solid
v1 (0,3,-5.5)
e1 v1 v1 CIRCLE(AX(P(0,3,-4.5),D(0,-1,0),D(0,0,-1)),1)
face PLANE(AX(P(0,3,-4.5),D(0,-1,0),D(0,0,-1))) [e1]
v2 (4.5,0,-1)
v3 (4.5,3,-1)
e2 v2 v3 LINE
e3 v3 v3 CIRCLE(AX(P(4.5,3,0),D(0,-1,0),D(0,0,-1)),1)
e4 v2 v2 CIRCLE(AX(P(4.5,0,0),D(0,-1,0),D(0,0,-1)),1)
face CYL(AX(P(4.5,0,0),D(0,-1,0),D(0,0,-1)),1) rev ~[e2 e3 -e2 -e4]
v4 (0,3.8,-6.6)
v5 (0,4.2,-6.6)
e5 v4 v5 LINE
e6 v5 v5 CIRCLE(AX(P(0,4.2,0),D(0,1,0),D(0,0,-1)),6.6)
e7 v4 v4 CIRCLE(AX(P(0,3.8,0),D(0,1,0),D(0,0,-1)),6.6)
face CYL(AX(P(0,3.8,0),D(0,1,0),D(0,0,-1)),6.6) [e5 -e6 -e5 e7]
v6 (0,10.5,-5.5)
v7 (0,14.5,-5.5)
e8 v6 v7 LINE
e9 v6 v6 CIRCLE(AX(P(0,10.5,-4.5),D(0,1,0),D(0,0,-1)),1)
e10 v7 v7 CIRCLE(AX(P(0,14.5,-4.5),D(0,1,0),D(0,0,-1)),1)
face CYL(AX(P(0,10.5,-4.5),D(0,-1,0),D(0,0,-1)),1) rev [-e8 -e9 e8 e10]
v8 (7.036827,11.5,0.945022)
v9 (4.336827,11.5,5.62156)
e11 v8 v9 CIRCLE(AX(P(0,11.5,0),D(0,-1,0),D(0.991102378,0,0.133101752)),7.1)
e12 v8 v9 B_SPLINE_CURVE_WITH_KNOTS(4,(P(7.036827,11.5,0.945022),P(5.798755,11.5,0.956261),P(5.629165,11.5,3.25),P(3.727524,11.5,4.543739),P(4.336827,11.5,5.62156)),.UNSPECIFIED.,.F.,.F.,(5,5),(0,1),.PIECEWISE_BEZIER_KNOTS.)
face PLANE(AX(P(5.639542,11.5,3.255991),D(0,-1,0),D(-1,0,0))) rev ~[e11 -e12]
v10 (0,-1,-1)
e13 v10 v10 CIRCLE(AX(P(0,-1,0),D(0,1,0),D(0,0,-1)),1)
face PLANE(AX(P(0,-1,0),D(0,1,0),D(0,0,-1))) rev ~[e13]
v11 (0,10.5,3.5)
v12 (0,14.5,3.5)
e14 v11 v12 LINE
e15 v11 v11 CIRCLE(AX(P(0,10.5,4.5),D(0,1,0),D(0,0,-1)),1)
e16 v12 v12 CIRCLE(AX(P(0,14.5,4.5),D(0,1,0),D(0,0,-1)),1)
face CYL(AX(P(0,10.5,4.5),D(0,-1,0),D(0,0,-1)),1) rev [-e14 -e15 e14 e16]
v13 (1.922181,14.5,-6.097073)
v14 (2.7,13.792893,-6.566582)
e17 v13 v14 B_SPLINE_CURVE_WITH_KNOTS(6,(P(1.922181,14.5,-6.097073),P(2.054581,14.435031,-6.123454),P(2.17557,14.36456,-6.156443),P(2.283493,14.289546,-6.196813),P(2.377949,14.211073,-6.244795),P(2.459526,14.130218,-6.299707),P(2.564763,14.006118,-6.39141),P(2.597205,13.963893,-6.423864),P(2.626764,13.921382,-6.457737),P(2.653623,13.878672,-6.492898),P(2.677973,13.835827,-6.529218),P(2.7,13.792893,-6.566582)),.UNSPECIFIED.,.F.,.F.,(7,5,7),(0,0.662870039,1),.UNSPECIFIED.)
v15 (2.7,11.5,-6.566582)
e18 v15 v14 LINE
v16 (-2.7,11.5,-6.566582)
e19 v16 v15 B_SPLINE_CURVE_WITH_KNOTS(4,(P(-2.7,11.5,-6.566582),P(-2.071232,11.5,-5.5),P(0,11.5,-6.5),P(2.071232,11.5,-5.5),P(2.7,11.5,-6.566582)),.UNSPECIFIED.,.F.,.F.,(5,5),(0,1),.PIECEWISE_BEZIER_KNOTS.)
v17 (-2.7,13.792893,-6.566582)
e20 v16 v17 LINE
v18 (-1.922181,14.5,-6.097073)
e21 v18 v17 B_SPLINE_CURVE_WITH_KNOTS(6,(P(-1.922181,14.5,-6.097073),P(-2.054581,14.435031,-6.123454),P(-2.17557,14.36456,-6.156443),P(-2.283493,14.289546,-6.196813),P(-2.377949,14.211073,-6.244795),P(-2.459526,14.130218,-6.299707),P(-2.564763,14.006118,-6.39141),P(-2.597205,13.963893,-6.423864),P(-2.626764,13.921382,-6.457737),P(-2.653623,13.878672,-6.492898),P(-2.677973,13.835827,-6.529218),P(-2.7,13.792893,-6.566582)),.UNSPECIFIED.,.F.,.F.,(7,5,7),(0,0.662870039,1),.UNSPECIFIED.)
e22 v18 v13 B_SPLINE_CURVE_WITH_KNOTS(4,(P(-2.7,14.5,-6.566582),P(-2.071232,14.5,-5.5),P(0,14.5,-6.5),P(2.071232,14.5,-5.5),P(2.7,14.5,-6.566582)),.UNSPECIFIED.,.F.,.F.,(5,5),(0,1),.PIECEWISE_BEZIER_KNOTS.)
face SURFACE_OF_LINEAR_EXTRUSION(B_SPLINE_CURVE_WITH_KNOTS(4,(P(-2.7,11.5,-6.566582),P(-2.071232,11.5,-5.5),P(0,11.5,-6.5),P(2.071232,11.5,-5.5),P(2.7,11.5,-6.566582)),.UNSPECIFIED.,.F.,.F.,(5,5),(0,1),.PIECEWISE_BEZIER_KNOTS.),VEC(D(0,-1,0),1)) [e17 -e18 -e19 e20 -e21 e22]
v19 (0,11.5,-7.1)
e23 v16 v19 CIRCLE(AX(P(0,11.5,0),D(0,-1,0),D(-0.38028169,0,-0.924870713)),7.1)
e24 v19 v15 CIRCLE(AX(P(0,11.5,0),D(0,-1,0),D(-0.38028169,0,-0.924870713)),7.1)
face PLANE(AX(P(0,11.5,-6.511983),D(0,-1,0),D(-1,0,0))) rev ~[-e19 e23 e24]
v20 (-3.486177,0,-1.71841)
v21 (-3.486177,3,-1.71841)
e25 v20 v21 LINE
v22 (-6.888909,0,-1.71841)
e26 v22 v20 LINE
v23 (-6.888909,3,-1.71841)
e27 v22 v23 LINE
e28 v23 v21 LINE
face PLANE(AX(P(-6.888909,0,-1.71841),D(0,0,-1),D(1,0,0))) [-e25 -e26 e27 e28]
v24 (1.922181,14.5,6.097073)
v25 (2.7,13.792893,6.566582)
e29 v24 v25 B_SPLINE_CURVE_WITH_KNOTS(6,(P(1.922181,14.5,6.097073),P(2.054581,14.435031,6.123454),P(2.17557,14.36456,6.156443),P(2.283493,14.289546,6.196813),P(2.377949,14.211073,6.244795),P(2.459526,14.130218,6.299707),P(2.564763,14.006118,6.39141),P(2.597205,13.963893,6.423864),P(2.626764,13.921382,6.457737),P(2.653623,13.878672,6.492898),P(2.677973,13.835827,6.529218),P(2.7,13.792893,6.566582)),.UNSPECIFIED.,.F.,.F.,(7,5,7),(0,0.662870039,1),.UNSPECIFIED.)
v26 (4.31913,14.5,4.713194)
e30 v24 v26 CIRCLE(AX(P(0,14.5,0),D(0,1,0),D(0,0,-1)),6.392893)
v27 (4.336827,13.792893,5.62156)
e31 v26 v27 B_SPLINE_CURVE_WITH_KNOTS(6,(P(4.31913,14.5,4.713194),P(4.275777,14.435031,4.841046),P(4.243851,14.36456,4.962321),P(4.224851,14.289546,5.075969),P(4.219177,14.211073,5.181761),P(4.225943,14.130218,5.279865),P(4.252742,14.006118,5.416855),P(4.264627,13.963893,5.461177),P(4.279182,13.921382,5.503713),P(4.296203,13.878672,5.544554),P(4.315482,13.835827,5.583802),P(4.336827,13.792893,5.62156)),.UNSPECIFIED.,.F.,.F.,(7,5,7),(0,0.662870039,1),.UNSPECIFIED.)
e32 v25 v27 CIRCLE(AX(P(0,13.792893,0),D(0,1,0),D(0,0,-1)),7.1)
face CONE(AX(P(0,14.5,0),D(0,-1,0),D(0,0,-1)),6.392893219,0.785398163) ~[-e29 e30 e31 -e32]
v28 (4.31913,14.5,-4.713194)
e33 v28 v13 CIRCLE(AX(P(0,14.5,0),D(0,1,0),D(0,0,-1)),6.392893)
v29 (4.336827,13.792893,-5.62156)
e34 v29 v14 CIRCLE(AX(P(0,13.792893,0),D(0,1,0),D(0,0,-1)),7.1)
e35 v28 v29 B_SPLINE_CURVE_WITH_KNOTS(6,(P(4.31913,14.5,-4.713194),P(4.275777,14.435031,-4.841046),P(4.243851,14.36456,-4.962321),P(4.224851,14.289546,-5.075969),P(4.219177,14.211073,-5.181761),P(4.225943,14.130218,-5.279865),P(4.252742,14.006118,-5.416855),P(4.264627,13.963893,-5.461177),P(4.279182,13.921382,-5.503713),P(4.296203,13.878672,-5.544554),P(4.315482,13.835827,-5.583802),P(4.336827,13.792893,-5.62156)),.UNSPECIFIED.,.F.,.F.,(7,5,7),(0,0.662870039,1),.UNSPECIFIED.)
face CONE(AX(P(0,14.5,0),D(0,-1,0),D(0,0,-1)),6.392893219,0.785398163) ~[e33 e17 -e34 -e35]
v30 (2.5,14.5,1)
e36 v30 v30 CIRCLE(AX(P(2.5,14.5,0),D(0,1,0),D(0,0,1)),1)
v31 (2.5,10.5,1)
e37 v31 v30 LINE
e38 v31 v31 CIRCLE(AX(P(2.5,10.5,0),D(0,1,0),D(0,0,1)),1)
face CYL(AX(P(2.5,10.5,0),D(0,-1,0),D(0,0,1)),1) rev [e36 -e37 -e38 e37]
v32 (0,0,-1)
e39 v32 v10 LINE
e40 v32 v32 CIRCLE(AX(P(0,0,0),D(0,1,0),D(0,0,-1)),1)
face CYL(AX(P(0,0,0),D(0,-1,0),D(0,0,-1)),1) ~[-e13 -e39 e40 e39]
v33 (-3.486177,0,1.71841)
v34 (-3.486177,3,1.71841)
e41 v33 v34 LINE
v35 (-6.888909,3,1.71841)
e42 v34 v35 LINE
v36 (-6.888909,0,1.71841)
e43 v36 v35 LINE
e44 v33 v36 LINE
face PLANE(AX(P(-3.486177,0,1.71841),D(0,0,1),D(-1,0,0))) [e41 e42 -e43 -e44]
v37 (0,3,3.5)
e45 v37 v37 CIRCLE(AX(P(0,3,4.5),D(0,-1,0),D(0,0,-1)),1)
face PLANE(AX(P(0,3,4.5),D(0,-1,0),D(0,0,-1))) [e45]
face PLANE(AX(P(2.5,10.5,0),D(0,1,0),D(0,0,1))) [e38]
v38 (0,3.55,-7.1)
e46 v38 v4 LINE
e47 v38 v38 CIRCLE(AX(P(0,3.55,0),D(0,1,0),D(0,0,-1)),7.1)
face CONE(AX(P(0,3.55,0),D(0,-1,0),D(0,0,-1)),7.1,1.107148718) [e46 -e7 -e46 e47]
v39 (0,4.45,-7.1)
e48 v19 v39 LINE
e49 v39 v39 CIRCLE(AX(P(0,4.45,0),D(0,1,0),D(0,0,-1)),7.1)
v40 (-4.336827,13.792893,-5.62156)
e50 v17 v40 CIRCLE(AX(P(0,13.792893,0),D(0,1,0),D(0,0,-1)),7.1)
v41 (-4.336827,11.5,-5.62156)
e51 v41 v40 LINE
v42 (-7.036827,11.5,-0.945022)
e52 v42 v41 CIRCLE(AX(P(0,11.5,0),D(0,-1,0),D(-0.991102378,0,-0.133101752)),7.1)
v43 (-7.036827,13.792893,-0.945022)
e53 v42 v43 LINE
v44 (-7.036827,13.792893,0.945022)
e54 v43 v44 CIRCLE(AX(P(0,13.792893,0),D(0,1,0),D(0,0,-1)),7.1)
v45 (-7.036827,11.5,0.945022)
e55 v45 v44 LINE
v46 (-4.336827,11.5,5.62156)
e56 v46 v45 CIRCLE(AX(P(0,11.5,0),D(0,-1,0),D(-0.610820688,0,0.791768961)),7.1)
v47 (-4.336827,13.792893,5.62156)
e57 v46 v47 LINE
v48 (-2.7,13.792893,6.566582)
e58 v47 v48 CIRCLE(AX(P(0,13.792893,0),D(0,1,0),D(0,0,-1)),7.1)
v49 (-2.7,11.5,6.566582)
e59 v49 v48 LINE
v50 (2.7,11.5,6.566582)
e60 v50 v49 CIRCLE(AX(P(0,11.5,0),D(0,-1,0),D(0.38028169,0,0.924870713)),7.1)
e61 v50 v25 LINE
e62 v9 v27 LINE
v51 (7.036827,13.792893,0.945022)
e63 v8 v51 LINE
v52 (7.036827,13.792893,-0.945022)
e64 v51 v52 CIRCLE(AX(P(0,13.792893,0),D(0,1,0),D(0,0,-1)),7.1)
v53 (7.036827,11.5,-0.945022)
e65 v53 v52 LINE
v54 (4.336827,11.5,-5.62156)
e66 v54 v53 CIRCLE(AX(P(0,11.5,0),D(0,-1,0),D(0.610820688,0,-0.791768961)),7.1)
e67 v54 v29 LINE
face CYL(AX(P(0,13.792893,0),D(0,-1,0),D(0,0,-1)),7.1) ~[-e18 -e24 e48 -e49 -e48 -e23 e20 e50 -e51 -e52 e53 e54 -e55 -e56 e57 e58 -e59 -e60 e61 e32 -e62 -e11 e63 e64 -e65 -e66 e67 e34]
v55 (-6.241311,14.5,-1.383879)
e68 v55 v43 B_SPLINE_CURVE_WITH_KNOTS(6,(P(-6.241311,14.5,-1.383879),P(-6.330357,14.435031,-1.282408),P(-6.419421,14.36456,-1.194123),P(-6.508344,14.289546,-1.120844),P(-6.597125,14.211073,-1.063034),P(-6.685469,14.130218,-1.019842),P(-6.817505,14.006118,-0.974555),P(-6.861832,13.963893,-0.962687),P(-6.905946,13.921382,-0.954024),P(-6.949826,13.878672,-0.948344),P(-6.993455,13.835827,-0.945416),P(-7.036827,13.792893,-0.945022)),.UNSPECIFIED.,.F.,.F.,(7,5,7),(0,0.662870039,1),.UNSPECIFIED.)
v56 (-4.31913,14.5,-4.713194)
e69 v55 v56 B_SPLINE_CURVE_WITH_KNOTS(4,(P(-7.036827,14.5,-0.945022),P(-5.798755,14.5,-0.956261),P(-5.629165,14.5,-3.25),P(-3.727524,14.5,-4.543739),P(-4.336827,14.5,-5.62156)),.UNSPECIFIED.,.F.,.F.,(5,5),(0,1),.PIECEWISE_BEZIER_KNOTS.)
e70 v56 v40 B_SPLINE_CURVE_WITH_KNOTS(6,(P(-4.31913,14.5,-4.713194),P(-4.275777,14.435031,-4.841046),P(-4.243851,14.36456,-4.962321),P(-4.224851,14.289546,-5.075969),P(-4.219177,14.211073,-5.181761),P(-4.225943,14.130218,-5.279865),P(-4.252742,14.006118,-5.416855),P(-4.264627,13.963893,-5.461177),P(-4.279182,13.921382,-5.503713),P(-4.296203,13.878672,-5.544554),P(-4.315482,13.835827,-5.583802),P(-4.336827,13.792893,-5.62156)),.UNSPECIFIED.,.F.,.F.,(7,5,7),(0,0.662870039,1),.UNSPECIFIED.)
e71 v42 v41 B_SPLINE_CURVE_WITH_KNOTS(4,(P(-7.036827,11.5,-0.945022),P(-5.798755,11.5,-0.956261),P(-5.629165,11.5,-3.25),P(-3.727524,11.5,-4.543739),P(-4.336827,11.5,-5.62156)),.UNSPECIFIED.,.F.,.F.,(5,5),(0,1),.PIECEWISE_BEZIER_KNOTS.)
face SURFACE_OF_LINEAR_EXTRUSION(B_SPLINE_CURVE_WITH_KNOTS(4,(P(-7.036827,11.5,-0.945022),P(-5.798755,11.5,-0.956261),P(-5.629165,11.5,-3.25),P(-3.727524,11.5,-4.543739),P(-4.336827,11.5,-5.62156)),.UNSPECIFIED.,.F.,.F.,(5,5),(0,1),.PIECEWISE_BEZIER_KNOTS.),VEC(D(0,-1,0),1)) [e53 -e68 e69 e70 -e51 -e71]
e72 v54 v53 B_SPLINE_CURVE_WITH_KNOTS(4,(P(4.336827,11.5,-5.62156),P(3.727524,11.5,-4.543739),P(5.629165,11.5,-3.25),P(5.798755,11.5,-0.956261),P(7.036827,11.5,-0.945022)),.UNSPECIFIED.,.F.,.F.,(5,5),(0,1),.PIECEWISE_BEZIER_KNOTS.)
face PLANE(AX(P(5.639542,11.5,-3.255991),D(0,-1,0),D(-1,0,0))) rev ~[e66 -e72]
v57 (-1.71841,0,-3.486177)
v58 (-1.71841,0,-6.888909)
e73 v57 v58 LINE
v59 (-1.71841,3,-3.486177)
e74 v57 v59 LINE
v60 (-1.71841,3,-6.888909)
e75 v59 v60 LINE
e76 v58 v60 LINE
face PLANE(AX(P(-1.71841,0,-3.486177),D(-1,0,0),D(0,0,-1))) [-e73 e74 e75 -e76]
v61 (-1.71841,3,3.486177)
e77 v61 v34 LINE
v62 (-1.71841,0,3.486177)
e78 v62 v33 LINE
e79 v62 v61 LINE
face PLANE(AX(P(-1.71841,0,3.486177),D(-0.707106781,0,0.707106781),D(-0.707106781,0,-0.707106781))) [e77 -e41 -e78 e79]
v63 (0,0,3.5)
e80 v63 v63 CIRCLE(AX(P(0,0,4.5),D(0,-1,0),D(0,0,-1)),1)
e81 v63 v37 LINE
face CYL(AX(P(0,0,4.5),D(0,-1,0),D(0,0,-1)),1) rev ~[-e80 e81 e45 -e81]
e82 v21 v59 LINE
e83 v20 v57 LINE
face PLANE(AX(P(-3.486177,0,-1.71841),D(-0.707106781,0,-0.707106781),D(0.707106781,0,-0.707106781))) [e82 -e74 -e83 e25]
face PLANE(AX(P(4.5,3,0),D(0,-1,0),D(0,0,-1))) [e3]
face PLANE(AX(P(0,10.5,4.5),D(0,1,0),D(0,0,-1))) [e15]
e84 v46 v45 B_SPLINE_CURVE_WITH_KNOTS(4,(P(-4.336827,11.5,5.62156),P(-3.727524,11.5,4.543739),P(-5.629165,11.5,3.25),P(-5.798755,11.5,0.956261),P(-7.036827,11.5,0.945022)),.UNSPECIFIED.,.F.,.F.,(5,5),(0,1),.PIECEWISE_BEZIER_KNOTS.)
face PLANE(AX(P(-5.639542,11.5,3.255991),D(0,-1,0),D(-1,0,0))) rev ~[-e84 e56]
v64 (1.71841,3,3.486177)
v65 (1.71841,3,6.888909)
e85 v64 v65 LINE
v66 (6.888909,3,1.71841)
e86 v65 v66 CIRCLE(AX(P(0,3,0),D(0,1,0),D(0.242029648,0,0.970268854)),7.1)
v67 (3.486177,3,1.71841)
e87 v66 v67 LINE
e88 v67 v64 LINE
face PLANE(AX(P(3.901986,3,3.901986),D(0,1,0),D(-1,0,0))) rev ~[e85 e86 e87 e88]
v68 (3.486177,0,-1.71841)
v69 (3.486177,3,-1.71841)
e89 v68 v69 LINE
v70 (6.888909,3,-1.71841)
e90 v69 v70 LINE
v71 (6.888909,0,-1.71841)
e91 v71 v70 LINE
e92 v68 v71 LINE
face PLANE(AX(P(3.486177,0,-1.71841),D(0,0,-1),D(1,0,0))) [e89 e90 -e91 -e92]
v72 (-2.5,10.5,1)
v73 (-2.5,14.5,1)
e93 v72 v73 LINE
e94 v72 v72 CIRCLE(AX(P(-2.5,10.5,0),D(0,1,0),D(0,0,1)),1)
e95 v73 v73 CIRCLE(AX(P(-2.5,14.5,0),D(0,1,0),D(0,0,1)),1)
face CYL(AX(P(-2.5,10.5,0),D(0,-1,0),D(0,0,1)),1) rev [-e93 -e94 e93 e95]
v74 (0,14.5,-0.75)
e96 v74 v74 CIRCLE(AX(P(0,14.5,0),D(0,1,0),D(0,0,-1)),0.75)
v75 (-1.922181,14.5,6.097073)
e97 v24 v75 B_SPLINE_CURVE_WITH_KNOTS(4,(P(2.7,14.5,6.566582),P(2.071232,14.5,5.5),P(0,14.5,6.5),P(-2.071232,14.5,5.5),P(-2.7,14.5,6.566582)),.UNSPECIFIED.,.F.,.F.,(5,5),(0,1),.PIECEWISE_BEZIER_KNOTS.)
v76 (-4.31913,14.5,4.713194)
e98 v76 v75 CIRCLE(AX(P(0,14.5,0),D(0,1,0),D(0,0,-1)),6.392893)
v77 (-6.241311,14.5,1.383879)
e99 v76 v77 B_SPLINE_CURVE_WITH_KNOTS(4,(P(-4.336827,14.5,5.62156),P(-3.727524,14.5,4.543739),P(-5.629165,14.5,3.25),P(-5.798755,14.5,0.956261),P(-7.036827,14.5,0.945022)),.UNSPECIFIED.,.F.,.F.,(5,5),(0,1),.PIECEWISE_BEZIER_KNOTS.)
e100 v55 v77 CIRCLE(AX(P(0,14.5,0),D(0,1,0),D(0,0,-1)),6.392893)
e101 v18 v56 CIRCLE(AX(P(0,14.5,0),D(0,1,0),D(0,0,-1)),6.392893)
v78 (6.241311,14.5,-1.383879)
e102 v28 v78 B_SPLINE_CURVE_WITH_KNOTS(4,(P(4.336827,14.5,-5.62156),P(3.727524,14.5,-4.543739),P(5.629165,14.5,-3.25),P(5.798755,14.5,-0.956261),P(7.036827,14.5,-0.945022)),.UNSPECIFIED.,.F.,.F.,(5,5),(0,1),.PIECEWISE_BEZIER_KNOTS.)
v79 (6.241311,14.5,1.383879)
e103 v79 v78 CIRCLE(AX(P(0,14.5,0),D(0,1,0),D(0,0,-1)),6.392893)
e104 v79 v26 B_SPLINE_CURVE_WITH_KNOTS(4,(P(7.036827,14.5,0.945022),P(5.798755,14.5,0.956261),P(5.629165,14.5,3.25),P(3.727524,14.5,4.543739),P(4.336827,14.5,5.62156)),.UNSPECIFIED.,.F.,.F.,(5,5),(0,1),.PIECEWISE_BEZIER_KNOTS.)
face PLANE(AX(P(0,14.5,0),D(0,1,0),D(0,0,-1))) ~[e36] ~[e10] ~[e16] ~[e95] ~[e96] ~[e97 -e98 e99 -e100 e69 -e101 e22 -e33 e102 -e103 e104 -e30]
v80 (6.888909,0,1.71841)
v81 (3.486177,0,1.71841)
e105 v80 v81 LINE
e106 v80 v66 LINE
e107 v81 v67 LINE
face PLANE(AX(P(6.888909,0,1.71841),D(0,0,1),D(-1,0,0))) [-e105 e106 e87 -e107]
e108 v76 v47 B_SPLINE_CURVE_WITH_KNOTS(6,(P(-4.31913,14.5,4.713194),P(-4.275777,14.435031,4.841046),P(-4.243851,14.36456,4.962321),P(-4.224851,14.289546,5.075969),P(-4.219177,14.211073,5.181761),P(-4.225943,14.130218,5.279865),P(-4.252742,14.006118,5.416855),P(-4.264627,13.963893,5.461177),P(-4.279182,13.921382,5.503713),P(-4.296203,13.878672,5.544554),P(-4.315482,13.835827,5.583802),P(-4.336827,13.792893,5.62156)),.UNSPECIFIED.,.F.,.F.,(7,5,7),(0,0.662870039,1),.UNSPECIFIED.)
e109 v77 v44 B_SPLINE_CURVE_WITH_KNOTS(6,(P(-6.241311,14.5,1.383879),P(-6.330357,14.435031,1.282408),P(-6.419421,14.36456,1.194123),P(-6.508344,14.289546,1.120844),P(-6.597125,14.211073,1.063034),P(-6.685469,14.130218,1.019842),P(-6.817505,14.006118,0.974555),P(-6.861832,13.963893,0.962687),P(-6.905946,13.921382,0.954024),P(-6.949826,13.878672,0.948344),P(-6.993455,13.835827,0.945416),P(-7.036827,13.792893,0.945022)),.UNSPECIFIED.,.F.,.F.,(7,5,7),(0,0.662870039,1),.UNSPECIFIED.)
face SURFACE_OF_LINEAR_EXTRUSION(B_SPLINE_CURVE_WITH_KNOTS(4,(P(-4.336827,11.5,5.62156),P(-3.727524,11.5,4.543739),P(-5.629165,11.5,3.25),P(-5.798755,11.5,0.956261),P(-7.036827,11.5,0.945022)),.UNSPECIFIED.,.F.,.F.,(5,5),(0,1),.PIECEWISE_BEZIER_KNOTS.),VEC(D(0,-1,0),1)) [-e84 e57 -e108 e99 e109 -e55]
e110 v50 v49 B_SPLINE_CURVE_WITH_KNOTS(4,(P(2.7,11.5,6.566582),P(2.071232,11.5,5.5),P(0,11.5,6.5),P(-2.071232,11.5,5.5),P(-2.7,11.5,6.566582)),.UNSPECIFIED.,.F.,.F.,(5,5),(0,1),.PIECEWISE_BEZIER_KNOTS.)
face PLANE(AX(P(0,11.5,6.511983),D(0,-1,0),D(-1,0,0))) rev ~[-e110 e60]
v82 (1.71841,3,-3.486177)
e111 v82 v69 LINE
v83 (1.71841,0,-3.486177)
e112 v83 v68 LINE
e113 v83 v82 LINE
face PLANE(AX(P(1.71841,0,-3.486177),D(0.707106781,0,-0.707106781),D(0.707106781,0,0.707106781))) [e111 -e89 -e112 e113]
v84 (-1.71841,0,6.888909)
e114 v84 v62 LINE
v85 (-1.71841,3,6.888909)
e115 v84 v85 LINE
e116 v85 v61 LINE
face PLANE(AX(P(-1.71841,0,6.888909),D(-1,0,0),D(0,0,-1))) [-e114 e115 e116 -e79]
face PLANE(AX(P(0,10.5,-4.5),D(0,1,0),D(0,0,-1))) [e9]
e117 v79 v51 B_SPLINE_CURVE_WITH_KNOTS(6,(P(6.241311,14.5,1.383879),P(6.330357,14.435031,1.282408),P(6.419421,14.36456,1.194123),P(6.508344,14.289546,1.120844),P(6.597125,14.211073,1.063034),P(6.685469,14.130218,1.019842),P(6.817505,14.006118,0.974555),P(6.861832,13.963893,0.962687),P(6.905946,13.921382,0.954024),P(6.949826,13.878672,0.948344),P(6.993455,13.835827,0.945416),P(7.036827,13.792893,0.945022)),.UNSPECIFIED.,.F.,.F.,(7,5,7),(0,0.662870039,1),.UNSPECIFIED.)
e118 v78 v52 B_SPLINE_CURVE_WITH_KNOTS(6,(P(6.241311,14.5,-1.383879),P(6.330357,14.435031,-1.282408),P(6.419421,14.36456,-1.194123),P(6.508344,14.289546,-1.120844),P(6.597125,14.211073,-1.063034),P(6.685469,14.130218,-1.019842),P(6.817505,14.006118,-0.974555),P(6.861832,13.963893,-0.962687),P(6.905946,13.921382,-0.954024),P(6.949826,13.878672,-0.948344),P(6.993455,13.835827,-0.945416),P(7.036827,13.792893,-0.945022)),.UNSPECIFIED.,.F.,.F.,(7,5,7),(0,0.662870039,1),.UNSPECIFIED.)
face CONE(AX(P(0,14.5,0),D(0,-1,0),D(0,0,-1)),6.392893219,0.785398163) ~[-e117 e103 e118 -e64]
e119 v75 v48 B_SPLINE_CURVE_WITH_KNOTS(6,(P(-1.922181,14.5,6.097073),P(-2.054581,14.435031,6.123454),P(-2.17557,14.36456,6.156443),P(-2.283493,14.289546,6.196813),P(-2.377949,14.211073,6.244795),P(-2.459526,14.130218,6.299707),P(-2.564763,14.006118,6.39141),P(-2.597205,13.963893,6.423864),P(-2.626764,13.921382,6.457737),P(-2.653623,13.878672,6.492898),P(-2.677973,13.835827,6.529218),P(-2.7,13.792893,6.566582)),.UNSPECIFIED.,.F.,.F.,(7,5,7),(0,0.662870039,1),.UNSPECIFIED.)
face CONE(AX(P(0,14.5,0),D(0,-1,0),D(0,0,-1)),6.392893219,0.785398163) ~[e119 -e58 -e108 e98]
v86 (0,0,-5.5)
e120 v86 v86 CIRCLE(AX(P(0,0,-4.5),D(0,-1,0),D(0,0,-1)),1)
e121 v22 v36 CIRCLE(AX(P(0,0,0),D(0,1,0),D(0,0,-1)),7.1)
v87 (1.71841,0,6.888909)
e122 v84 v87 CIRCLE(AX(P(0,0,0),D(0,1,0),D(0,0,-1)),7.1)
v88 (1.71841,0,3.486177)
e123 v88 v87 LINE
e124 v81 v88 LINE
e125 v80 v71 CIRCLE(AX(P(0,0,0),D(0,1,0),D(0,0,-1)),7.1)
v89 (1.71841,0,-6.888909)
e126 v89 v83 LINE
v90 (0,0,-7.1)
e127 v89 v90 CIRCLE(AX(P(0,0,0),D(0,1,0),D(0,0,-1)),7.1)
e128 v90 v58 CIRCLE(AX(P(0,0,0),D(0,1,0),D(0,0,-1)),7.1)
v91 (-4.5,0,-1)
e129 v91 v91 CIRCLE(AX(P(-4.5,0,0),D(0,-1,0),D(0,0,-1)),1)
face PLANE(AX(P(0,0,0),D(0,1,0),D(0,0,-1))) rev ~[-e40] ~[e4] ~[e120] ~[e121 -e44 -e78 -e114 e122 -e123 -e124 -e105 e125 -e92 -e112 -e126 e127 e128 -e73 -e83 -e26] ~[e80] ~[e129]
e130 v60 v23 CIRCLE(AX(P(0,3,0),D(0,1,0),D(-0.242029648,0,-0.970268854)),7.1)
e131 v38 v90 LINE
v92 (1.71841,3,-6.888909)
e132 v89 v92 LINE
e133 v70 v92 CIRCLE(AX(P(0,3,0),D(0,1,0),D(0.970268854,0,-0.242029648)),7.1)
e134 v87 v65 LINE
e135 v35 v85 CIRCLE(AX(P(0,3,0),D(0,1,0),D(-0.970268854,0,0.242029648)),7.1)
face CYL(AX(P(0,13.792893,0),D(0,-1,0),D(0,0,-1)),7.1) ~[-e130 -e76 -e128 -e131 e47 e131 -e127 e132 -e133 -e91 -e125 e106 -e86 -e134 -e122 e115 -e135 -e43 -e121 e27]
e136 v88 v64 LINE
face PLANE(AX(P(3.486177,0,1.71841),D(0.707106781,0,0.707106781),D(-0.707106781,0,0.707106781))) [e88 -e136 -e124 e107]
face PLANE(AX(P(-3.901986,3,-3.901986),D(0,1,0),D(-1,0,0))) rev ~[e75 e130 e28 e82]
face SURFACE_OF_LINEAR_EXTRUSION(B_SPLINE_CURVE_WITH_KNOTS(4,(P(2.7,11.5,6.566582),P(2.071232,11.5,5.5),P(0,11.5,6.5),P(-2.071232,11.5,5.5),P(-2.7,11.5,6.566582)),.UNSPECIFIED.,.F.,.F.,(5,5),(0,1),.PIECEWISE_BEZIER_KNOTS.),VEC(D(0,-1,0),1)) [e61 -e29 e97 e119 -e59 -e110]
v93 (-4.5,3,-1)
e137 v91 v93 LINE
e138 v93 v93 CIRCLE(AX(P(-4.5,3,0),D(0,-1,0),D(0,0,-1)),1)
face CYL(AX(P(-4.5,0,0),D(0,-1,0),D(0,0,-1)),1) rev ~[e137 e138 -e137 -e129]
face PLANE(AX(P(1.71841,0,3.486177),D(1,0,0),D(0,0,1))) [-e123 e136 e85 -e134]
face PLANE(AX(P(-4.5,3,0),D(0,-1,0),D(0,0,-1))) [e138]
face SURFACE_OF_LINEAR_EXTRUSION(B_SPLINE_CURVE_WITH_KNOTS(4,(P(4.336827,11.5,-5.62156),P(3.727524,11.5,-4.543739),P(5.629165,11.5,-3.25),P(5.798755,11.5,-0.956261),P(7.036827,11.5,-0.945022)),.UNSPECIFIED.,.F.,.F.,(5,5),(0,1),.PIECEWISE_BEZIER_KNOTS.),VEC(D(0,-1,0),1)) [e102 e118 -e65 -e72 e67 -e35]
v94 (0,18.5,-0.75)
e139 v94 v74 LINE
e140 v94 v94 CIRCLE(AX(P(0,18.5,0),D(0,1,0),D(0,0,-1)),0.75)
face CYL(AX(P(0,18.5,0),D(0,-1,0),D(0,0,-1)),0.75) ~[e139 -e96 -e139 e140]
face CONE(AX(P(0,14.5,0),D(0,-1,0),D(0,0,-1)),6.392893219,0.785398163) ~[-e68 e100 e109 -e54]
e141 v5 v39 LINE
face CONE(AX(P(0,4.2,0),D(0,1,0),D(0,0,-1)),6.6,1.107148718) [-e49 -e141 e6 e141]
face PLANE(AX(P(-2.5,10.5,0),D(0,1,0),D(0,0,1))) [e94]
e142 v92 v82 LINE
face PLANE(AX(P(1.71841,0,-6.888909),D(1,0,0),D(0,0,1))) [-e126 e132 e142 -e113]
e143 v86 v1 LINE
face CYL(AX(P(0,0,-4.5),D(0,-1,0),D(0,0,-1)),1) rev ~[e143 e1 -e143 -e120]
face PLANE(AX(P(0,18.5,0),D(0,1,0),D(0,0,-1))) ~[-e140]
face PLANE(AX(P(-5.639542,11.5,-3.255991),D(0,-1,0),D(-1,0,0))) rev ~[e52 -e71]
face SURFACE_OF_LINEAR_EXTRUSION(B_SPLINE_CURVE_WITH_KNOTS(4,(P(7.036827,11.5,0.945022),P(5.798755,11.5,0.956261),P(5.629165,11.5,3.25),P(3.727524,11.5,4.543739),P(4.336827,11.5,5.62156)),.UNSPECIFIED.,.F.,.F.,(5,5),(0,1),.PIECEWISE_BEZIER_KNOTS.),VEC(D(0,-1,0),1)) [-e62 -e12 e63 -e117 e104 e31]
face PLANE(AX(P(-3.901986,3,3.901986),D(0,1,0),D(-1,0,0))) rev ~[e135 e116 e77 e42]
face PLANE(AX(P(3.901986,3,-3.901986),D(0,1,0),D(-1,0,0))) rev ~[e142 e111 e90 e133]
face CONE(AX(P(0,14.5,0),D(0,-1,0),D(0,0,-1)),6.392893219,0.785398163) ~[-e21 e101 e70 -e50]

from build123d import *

# Parameters (mm, degrees)
SKETCH3_R          = 1
CUT_EXTRUDE1_DEPTH = 3
CUT_EXTRUDE2_START = -4
SKETCH4_R          = 1
CUT_EXTRUDE2_DEPTH = 4
CUT_EXTRUDE3_START = -3
CUT_EXTRUDE3_DEPTH = 3
CUT_EXTRUDE4_DEPTH = 3


with BuildPart() as part:
    # Sketch1 → Revolve1 (revolve)
    with BuildSketch(Plane(origin=(0, 0, 0), x_dir=(0, 0, -1), z_dir=(1, 0, 0)), mode=Mode.PRIVATE) as revolve1_sk:
        Polygon((0, 18.5), (-0.75, 18.5), (-0.75, 14.5), (-6.392893219, 14.5), (-7.1, 13.792893219), (-7.1, 0), (-1, 0), (-1, -1), (0, -1), (0, 0), align=None)
    revolve(revolve1_sk.sketch.rotate(Axis((0, 0, 0), (0, 1, 0)), 180), axis=Axis((0, 0, 0), (0, 1, 0)))

    # Sketch3 → Cut-Extrude1 (cut)
    with BuildSketch(Plane.XZ):
        with Locations(Location((0, 4.5, 0), (0, 0, 270))):
            Circle(SKETCH3_R)
        with Locations(Location((4.5, 0, 0), (0, 0, 270))):
            Circle(SKETCH3_R)
        with Locations(Location((-4.5, 0, 0), (0, 0, 270))):
            Circle(SKETCH3_R)
        with Locations(Location((0, -4.5, 0), (0, 0, 270))):
            Circle(SKETCH3_R)
    extrude(amount=-CUT_EXTRUDE1_DEPTH, mode=Mode.SUBTRACT)

    # Sketch4 → Cut-Extrude2 (cut)
    with BuildSketch(Plane(origin=(0, 14.5, 0), x_dir=(1, 0, 0), z_dir=(0, 1, 0)).offset(CUT_EXTRUDE2_START)):
        with Locations(Location((0, 4.5, 0), (0, 0, 90))):
            Circle(SKETCH4_R)
        with Locations(Location((2.5, 0, 0), (0, 0, 270))):
            Circle(SKETCH4_R)
        with Locations(Location((0, -4.5, 0), (0, 0, 90))):
            Circle(SKETCH4_R)
        with Locations(Location((-2.5, 0, 0), (0, 0, 270))):
            Circle(SKETCH4_R)
    extrude(amount=CUT_EXTRUDE2_DEPTH, mode=Mode.SUBTRACT)

    # Sketch5 → Cut-Extrude3 (cut)
    with BuildSketch(Plane(origin=(0, 14.5, 0), x_dir=(1, 0, 0), z_dir=(0, 1, 0)).offset(CUT_EXTRUDE3_START)):
        with BuildLine():
            ThreePointArc((-2.7, 6.566582064), (0, 7.1), (2.7, 6.566582064))
            add(Edge.make_bspline(
                [(-2.7, 6.566582064), (-2.071231518, 5.5), (0, 6.5), (2.071231518, 5.5), (2.7, 6.566582064)],
                knots=[0, 0, 0, 0, 0, 1, 1, 1, 1, 1], degree=4))
        make_face()
        with BuildLine():
            ThreePointArc((4.336826883, 5.621559622), (6.148780367, 3.55), (7.036826883, 0.945022442))
            add(Edge.make_bspline(
                [(4.336826883, 5.621559622), (3.727523962, 4.543739111), (5.629165125, 3.25), (5.79875548, 0.956260889), (7.036826883, 0.945022442)],
                knots=[0, 0, 0, 0, 0, 1, 1, 1, 1, 1], degree=4))
        make_face()
        with BuildLine():
            ThreePointArc((7.036826883, -0.945022442), (6.148780367, -3.55), (4.336826883, -5.621559622))
            add(Edge.make_bspline(
                [(7.036826883, -0.945022442), (5.79875548, -0.956260889), (5.629165125, -3.25), (3.727523962, -4.543739111), (4.336826883, -5.621559622)],
                knots=[0, 0, 0, 0, 0, 1, 1, 1, 1, 1], degree=4))
        make_face()
        with BuildLine():
            ThreePointArc((2.7, -6.566582064), (0, -7.1), (-2.7, -6.566582064))
            add(Edge.make_bspline(
                [(2.7, -6.566582064), (2.071231518, -5.5), (0, -6.5), (-2.071231518, -5.5), (-2.7, -6.566582064)],
                knots=[0, 0, 0, 0, 0, 1, 1, 1, 1, 1], degree=4))
        make_face()
        with BuildLine():
            ThreePointArc((-4.336826883, -5.621559622), (-6.148780367, -3.55), (-7.036826883, -0.945022442))
            add(Edge.make_bspline(
                [(-4.336826883, -5.621559622), (-3.727523962, -4.543739111), (-5.629165125, -3.25), (-5.79875548, -0.956260889), (-7.036826883, -0.945022442)],
                knots=[0, 0, 0, 0, 0, 1, 1, 1, 1, 1], degree=4))
        make_face()
        with BuildLine():
            ThreePointArc((-7.036826883, 0.945022442), (-6.148780367, 3.55), (-4.336826883, 5.621559622))
            add(Edge.make_bspline(
                [(-7.036826883, 0.945022442), (-5.79875548, 0.956260889), (-5.629165125, 3.25), (-3.727523962, 4.543739111), (-4.336826883, 5.621559622)],
                knots=[0, 0, 0, 0, 0, 1, 1, 1, 1, 1], degree=4))
        make_face()
    extrude(amount=CUT_EXTRUDE3_DEPTH, mode=Mode.SUBTRACT)

    # Sketch6 → Cut-Extrude4 (cut)
    with BuildSketch(Plane.XZ):
        with BuildLine():
            Line((-1.718410499, 6.888908866), (-1.718410499, 3.486177452))
            Line((-1.718410499, 3.486177452), (-3.486177452, 1.718410499))
            Line((-3.486177452, 1.718410499), (-6.888908866, 1.718410499))
            ThreePointArc((-6.888908866, 1.718410499), (-5.020458146, 5.020458146), (-1.718410499, 6.888908866))
        make_face()
        with BuildLine():
            Line((1.718410499, 3.486177452), (1.718410499, 6.888908866))
            ThreePointArc((1.718410499, 6.888908866), (5.020458146, 5.020458146), (6.888908866, 1.718410499))
            Line((6.888908866, 1.718410499), (3.486177452, 1.718410499))
            Line((3.486177452, 1.718410499), (1.718410499, 3.486177452))
        make_face()
        with BuildLine():
            Line((3.486177452, -1.718410499), (6.888908866, -1.718410499))
            ThreePointArc((6.888908866, -1.718410499), (5.020458146, -5.020458146), (1.718410499, -6.888908866))
            Line((1.718410499, -6.888908866), (1.718410499, -3.486177452))
            Line((1.718410499, -3.486177452), (3.486177452, -1.718410499))
        make_face()
        with BuildLine():
            Line((-1.718410499, -3.486177452), (-1.718410499, -6.888908866))
            ThreePointArc((-1.718410499, -6.888908866), (-5.020458146, -5.020458146), (-6.888908866, -1.718410499))
            Line((-6.888908866, -1.718410499), (-3.486177452, -1.718410499))
            Line((-3.486177452, -1.718410499), (-1.718410499, -3.486177452))
        make_face()
    extrude(amount=-CUT_EXTRUDE4_DEPTH, mode=Mode.SUBTRACT)

    # Sketch7 → Cut-Revolve1 (revolve, cut)
    with BuildSketch(Plane(origin=(0, 0, 0), x_dir=(0, 0, -1), z_dir=(1, 0, 0)), mode=Mode.PRIVATE) as cut_revolve1_sk:
        Polygon((-7.1, 3.55), (-6.6, 3.8), (-6.6, 4.2), (-7.1, 4.45), align=None)
    revolve(cut_revolve1_sk.sketch.rotate(Axis((0, 0, 0), (0, 1, 0)), 180), axis=Axis((0, 0, 0), (0, 1, 0)), mode=Mode.SUBTRACT)


solid = part.part
